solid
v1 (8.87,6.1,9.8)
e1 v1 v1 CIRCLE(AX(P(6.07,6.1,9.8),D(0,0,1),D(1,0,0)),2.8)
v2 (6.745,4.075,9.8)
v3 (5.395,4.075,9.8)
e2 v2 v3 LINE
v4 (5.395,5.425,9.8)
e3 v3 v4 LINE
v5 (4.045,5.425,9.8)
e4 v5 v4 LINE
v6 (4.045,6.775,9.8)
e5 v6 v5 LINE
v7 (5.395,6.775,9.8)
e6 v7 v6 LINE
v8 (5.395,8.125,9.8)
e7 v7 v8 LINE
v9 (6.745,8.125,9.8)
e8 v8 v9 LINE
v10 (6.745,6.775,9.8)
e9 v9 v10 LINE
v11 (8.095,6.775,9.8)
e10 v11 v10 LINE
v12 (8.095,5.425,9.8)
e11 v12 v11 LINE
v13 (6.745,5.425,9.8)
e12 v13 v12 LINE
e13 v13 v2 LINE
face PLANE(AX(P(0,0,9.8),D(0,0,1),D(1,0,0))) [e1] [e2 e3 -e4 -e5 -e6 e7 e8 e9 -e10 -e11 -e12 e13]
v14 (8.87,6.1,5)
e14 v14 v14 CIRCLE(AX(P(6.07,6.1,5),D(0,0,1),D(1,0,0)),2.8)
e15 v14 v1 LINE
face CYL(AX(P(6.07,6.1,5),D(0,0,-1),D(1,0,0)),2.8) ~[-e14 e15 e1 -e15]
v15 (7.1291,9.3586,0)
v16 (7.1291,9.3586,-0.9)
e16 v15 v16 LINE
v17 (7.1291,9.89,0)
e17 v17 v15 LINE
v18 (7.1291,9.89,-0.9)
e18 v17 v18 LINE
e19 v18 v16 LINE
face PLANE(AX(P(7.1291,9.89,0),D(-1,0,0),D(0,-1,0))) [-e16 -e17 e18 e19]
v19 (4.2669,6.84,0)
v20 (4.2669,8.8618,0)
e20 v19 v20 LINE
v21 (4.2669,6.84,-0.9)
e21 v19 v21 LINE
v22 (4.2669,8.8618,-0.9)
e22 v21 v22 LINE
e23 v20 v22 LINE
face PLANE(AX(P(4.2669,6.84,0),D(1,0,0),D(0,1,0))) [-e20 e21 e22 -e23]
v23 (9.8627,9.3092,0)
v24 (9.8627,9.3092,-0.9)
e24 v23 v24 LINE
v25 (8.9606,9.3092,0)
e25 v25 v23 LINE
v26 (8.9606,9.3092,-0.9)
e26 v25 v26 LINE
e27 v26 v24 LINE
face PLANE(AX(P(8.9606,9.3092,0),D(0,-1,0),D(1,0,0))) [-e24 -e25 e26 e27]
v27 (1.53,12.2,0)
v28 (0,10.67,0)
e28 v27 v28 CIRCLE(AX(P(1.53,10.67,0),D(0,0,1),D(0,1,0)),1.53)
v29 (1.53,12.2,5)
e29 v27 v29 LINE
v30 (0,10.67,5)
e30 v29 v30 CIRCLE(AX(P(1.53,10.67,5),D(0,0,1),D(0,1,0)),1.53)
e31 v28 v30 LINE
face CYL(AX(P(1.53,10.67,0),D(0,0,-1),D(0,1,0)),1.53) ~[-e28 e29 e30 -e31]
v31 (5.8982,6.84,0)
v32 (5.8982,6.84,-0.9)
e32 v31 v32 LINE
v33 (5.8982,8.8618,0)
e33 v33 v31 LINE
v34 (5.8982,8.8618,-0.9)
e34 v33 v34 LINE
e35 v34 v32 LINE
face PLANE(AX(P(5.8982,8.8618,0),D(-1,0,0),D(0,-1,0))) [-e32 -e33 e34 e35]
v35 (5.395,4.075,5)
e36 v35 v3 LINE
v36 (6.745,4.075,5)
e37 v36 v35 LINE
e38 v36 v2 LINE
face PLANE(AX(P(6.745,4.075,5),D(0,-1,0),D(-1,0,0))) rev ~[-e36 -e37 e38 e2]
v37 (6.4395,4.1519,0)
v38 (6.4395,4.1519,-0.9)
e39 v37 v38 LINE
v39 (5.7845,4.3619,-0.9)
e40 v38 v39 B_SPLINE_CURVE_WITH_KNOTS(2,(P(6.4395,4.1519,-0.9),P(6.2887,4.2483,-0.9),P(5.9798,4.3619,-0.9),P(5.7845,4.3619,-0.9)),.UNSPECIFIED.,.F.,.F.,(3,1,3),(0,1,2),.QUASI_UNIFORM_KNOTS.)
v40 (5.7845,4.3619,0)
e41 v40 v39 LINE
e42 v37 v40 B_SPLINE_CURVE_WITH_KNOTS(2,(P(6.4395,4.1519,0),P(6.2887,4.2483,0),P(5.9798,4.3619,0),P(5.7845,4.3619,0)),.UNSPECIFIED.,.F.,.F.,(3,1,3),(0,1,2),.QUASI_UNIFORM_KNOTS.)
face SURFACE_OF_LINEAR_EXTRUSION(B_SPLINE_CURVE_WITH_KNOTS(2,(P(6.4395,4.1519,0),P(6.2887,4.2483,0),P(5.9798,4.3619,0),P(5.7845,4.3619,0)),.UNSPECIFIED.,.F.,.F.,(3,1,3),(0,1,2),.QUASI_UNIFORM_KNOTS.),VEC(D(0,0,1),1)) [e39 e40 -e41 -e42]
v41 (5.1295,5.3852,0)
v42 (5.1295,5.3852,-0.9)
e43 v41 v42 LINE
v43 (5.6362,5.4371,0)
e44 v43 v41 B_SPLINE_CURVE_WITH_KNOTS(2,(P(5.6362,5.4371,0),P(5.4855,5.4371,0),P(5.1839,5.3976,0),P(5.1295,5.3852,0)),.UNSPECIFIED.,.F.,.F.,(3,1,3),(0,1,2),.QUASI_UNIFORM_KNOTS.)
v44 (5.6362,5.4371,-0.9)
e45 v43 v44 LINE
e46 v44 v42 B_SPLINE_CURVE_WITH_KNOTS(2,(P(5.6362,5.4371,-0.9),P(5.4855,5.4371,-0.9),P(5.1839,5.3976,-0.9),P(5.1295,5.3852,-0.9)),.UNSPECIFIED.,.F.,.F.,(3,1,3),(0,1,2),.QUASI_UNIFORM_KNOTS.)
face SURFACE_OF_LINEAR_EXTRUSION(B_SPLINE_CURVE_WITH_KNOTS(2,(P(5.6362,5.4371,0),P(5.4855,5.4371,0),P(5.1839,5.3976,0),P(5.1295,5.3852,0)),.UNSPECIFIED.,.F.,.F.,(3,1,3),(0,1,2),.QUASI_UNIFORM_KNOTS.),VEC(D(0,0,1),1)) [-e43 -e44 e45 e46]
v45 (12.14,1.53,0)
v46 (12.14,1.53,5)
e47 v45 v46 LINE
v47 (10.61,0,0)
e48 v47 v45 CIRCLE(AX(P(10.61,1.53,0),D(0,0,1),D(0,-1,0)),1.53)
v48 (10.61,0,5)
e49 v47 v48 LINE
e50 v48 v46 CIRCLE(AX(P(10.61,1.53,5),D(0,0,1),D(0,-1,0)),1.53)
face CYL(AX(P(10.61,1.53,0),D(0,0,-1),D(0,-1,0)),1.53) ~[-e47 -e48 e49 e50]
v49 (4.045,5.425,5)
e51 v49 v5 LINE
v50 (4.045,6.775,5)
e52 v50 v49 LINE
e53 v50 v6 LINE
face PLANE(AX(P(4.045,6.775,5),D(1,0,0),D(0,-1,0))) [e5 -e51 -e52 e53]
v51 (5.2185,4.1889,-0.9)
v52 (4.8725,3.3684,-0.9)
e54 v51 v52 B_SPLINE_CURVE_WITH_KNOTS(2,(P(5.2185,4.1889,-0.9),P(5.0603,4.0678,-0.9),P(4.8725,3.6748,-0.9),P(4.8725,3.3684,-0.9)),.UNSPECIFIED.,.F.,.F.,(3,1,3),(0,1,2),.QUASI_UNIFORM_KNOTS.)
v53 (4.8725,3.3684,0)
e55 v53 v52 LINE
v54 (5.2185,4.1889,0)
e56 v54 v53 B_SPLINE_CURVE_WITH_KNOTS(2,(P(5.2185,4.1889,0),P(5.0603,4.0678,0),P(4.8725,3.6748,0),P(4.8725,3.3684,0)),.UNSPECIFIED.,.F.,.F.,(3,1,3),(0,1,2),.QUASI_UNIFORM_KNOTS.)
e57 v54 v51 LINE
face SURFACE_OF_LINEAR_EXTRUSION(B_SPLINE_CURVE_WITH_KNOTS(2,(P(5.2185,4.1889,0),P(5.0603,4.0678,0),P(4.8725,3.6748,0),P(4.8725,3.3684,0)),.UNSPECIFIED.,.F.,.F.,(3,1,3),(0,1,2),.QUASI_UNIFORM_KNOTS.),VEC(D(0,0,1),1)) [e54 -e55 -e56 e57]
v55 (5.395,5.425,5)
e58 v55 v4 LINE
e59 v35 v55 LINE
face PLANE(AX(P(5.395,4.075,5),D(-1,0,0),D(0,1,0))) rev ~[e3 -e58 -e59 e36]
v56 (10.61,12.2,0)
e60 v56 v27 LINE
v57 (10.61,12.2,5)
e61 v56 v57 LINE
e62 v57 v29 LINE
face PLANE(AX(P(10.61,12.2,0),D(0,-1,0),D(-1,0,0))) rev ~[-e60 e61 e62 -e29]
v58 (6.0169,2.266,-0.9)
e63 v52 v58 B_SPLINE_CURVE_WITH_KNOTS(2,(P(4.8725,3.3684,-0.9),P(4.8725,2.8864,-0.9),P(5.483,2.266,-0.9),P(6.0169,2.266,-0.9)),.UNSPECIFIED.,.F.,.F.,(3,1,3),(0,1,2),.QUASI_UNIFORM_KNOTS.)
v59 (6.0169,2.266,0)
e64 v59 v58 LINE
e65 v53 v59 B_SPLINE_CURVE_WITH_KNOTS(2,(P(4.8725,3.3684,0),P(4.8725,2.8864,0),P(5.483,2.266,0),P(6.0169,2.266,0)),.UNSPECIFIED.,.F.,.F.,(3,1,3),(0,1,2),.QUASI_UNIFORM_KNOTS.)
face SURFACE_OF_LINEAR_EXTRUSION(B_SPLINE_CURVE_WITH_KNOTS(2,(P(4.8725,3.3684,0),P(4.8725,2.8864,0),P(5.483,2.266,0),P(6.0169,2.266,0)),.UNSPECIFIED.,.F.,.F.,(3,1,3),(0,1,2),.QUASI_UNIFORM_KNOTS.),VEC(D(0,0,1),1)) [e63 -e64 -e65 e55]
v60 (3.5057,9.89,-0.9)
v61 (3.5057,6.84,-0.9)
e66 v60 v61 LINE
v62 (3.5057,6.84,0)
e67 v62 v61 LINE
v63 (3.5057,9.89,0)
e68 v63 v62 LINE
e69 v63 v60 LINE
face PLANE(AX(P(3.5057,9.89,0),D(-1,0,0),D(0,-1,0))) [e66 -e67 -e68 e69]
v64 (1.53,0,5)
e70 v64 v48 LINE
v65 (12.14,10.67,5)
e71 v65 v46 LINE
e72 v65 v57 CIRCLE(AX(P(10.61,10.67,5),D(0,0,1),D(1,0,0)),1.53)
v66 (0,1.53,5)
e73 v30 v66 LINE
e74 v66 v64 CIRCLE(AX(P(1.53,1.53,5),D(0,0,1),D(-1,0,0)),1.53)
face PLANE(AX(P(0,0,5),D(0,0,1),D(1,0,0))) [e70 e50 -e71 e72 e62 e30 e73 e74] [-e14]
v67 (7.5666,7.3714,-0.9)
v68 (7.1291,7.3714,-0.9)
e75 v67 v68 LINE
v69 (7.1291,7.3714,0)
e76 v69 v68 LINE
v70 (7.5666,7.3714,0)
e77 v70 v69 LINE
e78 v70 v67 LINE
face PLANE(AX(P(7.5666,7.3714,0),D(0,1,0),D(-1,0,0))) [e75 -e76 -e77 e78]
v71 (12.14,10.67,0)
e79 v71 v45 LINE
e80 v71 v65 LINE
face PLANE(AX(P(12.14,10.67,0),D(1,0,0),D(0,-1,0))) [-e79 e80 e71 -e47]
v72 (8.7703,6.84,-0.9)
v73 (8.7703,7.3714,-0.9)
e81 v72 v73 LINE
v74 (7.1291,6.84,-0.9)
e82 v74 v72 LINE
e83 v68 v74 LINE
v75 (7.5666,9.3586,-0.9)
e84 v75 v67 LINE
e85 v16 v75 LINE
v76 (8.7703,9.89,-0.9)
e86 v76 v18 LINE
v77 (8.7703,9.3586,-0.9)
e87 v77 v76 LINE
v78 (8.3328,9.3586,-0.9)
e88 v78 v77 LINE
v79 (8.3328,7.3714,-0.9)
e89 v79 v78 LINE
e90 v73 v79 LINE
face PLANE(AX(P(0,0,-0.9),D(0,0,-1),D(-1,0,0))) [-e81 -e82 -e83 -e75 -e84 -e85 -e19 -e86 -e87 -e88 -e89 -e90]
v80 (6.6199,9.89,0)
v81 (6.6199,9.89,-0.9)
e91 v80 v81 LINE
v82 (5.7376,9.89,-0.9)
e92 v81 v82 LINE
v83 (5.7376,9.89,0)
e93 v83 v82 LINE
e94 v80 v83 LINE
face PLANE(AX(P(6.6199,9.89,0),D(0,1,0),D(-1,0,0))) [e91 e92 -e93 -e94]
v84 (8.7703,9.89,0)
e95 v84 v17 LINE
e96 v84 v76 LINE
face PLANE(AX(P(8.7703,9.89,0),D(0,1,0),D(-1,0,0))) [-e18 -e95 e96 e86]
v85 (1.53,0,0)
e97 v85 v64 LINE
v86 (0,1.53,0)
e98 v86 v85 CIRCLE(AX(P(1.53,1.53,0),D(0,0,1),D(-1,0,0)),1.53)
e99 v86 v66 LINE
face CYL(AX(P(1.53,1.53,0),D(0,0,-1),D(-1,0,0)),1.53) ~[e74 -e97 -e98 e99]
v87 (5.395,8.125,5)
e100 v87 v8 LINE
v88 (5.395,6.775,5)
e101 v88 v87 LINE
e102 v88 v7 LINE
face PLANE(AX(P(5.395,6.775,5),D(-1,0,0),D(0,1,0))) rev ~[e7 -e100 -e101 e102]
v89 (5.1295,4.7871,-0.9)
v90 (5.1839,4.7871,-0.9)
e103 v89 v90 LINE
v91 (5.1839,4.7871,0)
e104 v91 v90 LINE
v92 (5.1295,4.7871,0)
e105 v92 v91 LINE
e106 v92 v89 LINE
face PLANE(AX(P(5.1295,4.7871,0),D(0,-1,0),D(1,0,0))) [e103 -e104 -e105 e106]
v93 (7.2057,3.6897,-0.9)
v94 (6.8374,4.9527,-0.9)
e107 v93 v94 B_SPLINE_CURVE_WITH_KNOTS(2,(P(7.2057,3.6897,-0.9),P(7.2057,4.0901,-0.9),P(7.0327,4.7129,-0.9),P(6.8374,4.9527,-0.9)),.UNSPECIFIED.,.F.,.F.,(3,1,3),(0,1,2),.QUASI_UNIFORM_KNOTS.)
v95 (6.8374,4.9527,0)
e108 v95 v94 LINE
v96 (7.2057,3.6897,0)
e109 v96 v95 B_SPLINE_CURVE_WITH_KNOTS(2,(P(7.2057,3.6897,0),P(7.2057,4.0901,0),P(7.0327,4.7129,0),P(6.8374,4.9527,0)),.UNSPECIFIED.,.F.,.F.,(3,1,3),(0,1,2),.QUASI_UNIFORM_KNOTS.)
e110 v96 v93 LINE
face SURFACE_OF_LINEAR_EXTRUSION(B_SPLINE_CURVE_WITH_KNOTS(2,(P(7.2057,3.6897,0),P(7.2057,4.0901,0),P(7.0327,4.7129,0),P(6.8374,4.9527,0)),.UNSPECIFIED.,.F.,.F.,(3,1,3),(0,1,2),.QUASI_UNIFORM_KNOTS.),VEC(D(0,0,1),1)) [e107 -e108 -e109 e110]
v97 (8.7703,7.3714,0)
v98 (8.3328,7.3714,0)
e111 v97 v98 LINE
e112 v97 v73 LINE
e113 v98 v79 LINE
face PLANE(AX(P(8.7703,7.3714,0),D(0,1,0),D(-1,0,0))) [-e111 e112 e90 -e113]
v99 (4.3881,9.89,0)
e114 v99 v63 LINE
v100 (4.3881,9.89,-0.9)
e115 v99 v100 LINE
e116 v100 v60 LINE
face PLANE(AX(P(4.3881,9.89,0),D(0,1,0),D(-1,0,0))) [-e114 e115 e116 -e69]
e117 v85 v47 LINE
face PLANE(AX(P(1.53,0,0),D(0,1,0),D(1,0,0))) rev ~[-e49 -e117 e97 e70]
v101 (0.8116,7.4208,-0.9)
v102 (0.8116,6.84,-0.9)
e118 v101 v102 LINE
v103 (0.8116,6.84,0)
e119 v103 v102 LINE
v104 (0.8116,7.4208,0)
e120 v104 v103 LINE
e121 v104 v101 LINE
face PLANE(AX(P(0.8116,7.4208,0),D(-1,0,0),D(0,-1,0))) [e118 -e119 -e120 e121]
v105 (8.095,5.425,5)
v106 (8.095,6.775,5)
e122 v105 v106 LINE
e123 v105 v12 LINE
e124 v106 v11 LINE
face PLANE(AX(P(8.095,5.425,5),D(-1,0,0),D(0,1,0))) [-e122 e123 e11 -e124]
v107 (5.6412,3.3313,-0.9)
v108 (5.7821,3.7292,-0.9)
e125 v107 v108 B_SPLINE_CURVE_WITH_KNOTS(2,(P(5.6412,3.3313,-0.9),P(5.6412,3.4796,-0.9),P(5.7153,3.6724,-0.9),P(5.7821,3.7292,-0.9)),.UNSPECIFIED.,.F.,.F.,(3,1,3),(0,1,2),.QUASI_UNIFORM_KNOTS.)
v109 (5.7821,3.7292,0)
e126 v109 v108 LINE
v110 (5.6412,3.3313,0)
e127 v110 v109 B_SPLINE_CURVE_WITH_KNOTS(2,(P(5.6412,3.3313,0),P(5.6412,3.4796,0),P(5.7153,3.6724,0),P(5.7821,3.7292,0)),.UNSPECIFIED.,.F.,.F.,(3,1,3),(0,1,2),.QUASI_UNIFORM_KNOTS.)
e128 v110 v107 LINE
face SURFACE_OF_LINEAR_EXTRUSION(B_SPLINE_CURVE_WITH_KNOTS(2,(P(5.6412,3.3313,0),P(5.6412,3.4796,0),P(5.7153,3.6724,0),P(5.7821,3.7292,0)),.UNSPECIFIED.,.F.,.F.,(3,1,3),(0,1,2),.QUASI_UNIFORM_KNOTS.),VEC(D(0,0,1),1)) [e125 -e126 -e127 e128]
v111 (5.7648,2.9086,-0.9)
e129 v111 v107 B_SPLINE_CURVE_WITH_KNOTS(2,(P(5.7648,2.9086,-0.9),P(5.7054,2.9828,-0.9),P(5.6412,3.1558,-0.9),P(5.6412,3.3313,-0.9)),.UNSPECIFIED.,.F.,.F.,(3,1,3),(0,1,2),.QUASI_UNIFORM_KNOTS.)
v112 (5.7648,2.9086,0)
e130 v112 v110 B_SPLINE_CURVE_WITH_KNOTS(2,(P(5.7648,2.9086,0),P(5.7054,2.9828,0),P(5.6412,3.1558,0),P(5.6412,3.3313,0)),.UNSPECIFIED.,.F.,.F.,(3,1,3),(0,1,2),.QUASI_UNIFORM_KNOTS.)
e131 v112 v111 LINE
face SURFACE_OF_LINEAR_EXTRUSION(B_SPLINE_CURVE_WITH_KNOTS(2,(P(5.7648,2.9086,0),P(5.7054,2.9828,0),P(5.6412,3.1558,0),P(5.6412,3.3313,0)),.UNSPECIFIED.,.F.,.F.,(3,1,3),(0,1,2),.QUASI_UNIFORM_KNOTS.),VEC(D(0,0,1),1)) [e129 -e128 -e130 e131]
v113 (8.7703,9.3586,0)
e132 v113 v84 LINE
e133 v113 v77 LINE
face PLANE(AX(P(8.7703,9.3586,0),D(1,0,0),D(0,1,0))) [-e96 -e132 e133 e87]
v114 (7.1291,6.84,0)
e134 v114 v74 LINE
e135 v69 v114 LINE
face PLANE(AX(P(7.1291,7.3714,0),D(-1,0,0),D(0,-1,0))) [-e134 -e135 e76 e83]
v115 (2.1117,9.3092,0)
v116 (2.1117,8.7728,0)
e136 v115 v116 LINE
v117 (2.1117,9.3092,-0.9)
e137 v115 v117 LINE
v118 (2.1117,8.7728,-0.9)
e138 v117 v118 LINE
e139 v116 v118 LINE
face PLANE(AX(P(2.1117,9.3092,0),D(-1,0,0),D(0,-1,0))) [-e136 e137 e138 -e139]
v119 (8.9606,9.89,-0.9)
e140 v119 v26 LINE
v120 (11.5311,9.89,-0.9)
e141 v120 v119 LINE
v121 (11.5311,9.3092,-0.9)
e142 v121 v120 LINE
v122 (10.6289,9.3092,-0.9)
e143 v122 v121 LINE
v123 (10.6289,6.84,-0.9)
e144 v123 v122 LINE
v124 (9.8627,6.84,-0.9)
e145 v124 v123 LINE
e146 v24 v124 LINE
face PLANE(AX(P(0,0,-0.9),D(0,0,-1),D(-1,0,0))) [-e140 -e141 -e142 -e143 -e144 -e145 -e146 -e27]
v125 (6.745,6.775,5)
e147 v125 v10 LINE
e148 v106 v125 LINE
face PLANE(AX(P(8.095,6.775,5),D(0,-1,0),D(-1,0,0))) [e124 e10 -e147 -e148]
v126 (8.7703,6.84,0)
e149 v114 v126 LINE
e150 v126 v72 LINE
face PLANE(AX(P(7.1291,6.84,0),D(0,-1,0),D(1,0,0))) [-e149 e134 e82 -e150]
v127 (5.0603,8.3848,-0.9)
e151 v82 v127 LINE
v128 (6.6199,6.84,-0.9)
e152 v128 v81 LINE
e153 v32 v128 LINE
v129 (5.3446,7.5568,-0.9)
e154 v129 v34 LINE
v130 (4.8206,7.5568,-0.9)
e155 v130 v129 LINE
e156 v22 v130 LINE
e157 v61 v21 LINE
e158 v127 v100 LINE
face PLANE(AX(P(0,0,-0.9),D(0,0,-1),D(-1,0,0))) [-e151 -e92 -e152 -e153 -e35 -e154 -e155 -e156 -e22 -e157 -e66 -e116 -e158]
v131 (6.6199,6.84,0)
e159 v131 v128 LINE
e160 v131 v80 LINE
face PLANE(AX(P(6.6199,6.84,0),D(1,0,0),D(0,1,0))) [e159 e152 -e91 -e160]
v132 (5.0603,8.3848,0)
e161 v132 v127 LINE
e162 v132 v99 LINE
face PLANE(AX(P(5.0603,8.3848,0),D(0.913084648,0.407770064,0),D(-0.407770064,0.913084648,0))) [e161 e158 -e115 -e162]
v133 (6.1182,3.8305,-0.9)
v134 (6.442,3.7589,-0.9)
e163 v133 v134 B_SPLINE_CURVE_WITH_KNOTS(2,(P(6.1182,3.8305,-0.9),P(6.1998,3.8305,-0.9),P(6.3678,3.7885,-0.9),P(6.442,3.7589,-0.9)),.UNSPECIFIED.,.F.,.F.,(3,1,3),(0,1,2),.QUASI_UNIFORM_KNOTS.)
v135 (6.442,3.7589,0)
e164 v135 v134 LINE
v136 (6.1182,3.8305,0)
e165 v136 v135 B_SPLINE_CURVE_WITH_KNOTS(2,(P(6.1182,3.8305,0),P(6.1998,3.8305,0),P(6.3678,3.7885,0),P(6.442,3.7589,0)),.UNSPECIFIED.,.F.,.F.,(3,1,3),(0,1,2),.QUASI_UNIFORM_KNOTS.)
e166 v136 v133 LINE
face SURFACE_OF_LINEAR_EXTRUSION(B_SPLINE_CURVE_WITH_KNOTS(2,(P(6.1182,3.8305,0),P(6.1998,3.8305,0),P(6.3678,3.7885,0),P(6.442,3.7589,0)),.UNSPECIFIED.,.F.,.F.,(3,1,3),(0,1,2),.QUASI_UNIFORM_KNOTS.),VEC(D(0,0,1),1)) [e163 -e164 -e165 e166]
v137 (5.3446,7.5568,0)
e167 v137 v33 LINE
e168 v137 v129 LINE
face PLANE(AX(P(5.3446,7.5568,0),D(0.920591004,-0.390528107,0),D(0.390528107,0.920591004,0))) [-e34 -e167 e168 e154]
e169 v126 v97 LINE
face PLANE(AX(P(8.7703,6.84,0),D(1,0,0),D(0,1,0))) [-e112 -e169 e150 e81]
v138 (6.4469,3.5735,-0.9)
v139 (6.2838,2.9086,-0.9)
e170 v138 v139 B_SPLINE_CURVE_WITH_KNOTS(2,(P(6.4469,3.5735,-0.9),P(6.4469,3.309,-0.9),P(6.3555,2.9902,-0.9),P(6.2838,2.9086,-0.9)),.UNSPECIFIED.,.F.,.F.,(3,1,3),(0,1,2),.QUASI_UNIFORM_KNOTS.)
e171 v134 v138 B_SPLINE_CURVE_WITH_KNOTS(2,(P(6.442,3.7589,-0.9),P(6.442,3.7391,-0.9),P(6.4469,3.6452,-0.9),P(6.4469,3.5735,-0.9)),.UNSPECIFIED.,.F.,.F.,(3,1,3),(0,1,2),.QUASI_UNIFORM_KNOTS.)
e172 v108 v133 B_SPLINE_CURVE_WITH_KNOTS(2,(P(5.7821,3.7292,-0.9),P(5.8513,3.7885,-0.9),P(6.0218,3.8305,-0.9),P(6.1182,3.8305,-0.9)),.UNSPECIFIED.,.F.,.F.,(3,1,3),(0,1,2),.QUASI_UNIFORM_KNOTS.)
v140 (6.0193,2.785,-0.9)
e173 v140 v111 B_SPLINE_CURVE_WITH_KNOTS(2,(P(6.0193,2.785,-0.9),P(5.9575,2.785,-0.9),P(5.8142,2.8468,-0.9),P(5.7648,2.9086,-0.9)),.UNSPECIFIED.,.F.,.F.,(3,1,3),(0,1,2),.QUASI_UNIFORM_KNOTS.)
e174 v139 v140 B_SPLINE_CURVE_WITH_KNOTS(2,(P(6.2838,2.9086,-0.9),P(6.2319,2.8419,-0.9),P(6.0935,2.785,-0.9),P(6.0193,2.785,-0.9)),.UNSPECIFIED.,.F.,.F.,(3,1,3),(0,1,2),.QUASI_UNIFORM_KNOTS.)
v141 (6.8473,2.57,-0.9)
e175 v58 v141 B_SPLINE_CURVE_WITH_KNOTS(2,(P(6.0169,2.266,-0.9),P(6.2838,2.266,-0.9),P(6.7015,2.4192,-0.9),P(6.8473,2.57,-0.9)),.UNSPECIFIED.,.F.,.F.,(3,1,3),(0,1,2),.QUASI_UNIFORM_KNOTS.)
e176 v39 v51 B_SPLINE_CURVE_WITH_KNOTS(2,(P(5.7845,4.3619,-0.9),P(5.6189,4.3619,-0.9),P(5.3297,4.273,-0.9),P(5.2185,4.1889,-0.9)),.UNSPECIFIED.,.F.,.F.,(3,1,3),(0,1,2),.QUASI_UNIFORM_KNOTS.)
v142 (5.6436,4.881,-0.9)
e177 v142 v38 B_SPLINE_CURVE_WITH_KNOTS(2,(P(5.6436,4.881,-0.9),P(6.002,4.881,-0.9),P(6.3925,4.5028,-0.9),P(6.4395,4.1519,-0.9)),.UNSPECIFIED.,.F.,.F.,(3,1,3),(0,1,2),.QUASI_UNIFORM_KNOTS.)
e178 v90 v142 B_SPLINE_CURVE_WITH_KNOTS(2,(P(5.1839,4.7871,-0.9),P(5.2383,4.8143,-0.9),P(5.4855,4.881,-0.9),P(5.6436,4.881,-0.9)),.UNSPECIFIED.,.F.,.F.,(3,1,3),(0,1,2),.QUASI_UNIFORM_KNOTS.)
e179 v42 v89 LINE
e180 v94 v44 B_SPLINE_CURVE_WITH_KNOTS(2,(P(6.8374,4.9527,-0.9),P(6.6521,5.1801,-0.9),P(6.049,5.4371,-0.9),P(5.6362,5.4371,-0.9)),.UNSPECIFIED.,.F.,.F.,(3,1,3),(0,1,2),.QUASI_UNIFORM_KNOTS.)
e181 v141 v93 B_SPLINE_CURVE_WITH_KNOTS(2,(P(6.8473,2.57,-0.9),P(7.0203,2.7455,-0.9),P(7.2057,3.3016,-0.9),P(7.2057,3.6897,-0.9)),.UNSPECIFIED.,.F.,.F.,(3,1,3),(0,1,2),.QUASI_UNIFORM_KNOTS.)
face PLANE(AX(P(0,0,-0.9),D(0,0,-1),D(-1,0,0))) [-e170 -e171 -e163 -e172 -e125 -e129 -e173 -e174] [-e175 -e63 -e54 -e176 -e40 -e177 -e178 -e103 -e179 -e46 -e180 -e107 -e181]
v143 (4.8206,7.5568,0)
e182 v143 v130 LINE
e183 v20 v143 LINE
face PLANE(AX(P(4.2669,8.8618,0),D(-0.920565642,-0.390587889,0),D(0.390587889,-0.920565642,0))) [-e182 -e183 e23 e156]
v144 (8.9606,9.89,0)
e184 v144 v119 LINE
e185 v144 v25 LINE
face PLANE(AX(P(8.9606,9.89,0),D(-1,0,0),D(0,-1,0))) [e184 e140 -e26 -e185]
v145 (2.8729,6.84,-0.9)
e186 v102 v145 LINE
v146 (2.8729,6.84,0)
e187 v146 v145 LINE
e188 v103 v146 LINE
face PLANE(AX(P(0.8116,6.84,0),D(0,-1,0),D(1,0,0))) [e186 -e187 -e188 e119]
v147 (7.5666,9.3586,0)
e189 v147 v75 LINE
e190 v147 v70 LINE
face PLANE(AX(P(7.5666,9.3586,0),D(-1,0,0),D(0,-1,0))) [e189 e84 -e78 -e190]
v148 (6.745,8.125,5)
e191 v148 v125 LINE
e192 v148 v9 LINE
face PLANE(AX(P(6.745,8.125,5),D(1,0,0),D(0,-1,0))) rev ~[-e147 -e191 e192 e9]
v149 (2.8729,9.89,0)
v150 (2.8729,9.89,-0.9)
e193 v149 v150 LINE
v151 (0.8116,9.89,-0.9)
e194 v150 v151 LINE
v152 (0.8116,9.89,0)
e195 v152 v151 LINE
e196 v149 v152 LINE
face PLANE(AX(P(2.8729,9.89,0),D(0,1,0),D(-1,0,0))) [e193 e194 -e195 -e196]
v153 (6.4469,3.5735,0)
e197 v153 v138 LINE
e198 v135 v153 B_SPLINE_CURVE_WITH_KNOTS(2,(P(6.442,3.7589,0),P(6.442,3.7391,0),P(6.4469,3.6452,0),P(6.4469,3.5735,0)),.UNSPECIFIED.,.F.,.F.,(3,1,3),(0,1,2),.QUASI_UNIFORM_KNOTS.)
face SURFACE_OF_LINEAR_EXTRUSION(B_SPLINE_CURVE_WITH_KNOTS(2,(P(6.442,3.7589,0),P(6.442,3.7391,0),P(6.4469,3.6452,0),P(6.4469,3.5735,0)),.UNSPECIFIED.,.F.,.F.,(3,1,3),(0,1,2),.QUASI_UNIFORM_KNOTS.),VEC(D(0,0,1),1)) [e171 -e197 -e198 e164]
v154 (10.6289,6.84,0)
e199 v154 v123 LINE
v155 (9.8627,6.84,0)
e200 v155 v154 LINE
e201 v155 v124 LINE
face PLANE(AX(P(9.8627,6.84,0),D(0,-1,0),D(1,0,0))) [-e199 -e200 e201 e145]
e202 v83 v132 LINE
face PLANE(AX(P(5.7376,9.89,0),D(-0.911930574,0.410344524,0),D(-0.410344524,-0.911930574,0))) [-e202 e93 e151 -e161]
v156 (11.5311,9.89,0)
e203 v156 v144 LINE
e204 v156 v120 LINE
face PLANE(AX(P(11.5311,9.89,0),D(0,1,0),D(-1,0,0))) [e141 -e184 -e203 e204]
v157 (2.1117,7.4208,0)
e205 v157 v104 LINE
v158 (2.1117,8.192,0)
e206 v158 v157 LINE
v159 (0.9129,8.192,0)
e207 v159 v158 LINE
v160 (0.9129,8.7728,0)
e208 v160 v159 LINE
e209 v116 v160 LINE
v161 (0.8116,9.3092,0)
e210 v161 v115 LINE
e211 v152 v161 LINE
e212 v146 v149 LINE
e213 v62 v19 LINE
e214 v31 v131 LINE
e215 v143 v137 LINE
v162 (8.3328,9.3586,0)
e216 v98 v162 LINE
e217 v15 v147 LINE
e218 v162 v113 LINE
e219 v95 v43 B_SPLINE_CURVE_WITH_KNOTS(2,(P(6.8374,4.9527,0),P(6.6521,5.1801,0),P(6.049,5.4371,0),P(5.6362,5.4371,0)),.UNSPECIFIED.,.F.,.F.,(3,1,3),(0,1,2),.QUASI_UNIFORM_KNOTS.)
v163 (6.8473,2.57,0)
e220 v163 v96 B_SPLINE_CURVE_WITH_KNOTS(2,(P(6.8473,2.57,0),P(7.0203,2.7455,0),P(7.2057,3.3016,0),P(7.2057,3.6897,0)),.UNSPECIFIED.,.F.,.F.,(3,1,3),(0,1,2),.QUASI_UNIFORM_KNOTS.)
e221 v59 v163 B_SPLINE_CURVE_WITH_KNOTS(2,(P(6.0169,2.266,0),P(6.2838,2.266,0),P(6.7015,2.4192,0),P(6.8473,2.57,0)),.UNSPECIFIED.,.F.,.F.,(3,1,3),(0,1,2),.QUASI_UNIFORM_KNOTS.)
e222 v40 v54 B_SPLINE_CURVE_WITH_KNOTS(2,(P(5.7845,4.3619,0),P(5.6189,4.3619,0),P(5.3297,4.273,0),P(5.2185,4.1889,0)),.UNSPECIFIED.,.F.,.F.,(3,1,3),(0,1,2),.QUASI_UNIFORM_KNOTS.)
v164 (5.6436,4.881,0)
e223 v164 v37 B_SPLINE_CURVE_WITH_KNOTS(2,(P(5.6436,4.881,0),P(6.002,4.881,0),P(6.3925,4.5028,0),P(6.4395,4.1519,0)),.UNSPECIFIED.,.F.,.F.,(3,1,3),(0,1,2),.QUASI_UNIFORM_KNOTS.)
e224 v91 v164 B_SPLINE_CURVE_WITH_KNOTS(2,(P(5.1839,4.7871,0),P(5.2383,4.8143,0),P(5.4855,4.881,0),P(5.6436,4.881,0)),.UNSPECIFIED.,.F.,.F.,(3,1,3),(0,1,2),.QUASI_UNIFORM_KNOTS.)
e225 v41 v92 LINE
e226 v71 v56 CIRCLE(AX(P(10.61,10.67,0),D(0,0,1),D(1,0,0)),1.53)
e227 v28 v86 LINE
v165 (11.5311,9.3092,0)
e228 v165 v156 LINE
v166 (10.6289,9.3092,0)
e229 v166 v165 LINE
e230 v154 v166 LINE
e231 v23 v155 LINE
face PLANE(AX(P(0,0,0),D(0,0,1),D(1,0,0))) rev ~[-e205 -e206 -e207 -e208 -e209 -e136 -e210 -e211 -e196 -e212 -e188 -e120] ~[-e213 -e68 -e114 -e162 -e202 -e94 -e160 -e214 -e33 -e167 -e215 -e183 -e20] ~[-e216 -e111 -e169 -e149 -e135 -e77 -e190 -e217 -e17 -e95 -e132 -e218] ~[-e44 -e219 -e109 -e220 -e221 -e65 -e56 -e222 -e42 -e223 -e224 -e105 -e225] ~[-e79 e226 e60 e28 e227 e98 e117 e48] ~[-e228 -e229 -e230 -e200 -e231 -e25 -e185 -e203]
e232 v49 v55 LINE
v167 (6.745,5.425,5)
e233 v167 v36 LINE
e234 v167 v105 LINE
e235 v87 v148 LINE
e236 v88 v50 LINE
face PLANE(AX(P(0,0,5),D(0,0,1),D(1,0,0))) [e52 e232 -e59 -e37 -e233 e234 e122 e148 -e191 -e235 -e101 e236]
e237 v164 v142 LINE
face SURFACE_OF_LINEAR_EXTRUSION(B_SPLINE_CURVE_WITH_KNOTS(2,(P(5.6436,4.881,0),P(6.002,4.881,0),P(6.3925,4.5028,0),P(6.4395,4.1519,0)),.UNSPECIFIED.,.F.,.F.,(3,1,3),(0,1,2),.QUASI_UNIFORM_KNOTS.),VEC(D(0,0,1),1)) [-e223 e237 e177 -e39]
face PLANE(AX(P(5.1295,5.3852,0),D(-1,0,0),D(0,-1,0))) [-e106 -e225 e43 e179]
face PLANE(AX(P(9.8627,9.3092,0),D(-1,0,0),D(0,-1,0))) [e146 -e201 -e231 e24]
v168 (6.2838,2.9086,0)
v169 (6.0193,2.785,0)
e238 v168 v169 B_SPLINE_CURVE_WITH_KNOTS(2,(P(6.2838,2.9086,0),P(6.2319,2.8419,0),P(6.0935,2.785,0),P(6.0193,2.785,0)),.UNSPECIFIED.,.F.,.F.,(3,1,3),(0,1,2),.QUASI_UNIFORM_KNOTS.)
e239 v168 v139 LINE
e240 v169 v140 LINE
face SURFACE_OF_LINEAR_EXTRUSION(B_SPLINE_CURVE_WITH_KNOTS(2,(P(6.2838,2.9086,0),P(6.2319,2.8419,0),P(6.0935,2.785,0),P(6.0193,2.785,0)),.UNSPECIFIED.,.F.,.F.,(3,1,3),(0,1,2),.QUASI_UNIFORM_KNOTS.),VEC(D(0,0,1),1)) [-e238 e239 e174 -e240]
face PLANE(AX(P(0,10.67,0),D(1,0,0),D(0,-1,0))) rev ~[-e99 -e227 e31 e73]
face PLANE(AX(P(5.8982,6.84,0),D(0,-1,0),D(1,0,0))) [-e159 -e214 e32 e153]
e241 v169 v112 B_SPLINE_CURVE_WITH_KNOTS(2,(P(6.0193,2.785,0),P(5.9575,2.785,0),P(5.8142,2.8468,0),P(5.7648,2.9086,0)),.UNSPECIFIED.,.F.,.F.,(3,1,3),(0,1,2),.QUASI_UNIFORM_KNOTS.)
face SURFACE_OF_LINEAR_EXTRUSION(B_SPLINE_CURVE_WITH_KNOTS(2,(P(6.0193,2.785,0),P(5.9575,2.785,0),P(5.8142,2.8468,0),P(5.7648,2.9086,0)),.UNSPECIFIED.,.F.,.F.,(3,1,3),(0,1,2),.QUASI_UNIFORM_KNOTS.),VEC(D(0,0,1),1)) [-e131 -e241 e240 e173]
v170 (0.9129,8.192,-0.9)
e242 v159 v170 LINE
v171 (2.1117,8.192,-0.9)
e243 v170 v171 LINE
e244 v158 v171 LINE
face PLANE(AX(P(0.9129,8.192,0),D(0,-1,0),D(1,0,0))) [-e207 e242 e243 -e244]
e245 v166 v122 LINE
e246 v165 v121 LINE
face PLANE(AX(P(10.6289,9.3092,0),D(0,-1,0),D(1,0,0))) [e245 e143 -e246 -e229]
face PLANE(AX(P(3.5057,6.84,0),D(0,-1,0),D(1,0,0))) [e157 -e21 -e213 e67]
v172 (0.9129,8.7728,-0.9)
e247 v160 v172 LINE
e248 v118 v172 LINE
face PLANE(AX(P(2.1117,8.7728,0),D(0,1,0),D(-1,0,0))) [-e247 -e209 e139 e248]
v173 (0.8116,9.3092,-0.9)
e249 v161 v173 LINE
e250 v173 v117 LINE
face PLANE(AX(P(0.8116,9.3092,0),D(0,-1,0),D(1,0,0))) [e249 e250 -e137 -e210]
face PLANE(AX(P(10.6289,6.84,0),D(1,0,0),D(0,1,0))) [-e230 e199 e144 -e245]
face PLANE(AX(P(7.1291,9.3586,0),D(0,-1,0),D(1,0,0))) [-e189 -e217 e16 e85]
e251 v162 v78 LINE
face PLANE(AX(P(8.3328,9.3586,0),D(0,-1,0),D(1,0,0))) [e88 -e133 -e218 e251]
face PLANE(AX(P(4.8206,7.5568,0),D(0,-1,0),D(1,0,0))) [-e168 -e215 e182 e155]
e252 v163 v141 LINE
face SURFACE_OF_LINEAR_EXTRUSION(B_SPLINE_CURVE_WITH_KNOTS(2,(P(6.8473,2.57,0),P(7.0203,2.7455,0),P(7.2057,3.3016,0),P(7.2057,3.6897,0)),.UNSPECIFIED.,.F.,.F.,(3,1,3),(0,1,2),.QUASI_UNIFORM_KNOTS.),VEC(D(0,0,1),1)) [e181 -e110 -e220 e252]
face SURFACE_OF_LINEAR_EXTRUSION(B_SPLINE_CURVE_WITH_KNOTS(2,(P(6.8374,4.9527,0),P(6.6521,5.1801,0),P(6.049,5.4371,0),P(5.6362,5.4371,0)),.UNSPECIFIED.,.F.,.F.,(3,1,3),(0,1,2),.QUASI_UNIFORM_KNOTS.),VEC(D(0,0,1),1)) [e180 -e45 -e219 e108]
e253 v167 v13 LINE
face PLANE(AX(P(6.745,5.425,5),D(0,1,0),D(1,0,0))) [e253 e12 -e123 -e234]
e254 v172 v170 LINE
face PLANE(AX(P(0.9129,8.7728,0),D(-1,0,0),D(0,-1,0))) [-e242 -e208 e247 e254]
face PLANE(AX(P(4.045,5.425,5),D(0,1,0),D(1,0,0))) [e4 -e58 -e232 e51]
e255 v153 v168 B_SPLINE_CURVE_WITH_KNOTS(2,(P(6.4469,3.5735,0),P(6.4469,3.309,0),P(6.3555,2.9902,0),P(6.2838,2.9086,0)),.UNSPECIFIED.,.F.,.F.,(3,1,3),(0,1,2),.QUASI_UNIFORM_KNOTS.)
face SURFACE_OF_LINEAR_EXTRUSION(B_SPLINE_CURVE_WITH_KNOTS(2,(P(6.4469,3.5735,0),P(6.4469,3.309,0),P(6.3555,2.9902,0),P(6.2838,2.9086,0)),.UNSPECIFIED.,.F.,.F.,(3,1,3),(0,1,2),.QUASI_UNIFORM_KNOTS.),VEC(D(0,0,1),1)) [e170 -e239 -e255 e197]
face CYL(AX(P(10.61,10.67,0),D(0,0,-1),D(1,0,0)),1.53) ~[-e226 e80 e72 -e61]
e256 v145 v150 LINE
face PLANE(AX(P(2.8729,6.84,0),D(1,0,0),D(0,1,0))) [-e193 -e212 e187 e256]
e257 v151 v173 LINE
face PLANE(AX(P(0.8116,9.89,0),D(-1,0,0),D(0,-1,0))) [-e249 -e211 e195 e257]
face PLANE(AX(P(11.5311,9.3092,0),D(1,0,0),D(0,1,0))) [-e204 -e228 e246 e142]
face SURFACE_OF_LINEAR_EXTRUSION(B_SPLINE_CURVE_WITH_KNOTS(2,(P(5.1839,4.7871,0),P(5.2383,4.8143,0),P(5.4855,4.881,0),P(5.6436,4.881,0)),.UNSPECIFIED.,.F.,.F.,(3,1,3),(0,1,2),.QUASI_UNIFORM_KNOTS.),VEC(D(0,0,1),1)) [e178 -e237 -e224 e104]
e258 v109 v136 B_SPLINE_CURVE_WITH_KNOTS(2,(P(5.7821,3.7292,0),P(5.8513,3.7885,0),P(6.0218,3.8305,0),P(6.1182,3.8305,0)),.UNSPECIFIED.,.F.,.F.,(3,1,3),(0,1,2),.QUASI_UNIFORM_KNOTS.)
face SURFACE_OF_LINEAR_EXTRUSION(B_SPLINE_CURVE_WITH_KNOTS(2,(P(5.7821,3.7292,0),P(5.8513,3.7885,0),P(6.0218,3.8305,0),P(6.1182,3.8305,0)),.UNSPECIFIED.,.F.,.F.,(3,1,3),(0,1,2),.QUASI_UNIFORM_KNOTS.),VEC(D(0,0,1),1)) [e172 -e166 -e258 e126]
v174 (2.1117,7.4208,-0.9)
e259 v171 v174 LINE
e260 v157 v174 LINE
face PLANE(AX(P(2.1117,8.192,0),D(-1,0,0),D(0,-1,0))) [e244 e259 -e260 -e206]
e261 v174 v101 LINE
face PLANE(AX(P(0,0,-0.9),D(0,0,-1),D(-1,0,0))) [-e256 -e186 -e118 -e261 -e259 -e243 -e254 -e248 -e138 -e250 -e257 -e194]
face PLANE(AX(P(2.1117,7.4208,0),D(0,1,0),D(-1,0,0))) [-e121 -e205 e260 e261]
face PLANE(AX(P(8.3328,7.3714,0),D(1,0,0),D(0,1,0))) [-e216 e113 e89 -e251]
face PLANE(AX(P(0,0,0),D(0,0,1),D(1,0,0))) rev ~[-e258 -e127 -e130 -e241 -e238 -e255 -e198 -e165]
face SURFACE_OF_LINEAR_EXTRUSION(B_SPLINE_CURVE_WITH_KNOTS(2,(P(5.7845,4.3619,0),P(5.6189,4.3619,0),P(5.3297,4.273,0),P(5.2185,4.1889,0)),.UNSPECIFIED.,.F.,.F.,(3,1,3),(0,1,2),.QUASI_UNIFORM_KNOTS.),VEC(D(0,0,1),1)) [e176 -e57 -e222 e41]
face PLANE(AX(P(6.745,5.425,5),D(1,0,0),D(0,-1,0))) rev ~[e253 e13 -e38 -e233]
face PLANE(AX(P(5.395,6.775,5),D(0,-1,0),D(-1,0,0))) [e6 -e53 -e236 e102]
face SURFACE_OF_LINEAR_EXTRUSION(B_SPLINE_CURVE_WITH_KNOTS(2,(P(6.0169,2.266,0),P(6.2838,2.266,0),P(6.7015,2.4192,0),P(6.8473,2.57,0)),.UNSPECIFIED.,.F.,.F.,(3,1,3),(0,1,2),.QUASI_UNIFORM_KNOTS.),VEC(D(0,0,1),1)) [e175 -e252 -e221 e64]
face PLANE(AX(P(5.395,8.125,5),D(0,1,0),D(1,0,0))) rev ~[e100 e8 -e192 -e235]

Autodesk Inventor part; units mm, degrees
ref_plane "YZ Plane" through (0, 0, 0) normal (1, 0, 0) x (0, 1, 0)
ref_plane "XZ Plane" through (0, 0, 0) normal (0, 1, 0) x (-1, 0, 0)
sketch "Sketch1" plane through (0, 0, 0) normal (0, 0, 1) x (1, 0, 0)
  line L0 (14.6962, 12.74) -> (14.6962, 0) construction
  line L1 (10.61, 12.2) -> (1.53, 12.2)
  arc A0 (1.53, 12.2) -> (0, 10.67) centre (1.53, 10.67) ccw
  line L2 (0, 10.67) -> (0, 1.53)
  arc A1 (0, 1.53) -> (1.53, 0) centre (1.53, 1.53) ccw
  line L3 (1.53, 0) -> (10.61, 0)
  arc A2 (10.61, 0) -> (12.14, 1.53) centre (10.61, 1.53) ccw
  arc A3 (12.14, 10.67) -> (10.61, 12.2) centre (10.61, 10.67) ccw
  line L4 (12.14, 10.67) -> (12.14, 1.53)
  point P0 (0, 0)
  point P1 (0, 0)
  dimension "d10" = 12.74
ref_plane "Work Plane1" through (0, 0, 5) normal (0, 0, 1) x (1, 0, 0)
sketch "Sketch2" plane through (0, 0, 5) normal (0, 0, 1) x (1, 0, 0)
  line L0 (10.88, 12.74) -> (1.8, 12.74) projected
  line L1 (10.88, 12.74) -> (1.8, 12.74) projected
  arc A0 (1.8, 12.74) -> (0, 10.94) centre (1.8, 10.94) ccw projected
  line L2 (0, 10.94) -> (0, 1.8) projected
  arc A1 (0, 1.8) -> (1.8, 0) centre (1.8, 1.8) ccw projected
  line L3 (1.8, 0) -> (10.88, 0) projected
  arc A2 (10.88, 0) -> (12.68, 1.8) centre (10.88, 1.8) ccw projected
  line L4 (12.68, 1.8) -> (12.68, 10.94) projected
  arc A3 (12.68, 10.94) -> (10.88, 12.74) centre (10.88, 10.94) ccw projected
  circle A4 centre (6.34, 6.37) radius 2.8
  line L5 (5.665, 8.395) -> (7.015, 8.395)
  line L6 (7.015, 4.345) -> (5.665, 4.345)
  line L7 (5.665, 4.345) -> (7.015, 8.395) construction
  line L8 (5.665, 8.395) -> (7.015, 4.345) construction
  line L9 (8.365, 5.695) -> (8.365, 7.045)
  line L10 (4.315, 7.045) -> (4.315, 5.695)
  line L11 (4.315, 5.695) -> (8.365, 7.045) construction
  line L12 (8.365, 5.695) -> (4.315, 7.045) construction
  line L13 (4.315, 5.695) -> (5.665, 5.695)
  line L14 (7.015, 5.695) -> (8.365, 5.695)
  line L15 (5.665, 4.345) -> (5.665, 5.695)
  line L16 (5.665, 7.045) -> (5.665, 8.395)
  line L17 (8.365, 7.045) -> (7.015, 7.045)
  line L18 (5.665, 7.045) -> (4.315, 7.045)
  line L19 (7.015, 8.395) -> (7.015, 7.045)
  line L20 (7.015, 5.695) -> (7.015, 4.345)
  point P0 (0, 0)
  dimension "d3" = 5.6
  dimension "d4" = 4.05
  dimension "d5" = 1.35
  dimension "d6" = 4.05
  dimension "d7" = 1.35
extrude "Extrusion3" add sketch "Sketch1" along normal blind 5
sketch "Sketch3" plane through (0, 0, 5) normal (0, 0, 1) x (1, 0, 0)
  line L0 (10.61, 12.47) -> (1.53, 12.47)
  line L1 (10.61, 12.47) -> (1.53, 12.47)
  arc A0 (1.53, 12.47) -> (-0.27, 10.67) centre (1.53, 10.67) ccw
  line L2 (-0.27, 10.67) -> (-0.27, 1.53)
  arc A1 (-0.27, 1.53) -> (1.53, -0.27) centre (1.53, 1.53) ccw
  line L3 (1.53, -0.27) -> (10.61, -0.27)
  arc A2 (10.61, -0.27) -> (12.41, 1.53) centre (10.61, 1.53) ccw
  line L4 (12.41, 1.53) -> (12.41, 10.67)
  arc A3 (12.41, 10.67) -> (10.61, 12.47) centre (10.61, 10.67) ccw
  circle A4 centre (6.07, 6.1) radius 2.8
  line L5 (5.395, 8.125) -> (6.745, 8.125)
  line L6 (6.745, 4.075) -> (5.395, 4.075)
  line L7 (5.395, 4.075) -> (6.745, 8.125) construction
  line L8 (5.395, 8.125) -> (6.745, 4.075) construction
  line L9 (8.095, 5.425) -> (8.095, 6.775)
  line L10 (4.045, 6.775) -> (4.045, 5.425)
  line L11 (4.045, 5.425) -> (8.095, 6.775) construction
  line L12 (8.095, 5.425) -> (4.045, 6.775) construction
  line L13 (4.045, 5.425) -> (5.395, 5.425)
  line L14 (6.745, 5.425) -> (8.095, 5.425)
  line L15 (5.395, 4.075) -> (5.395, 5.425)
  line L16 (5.395, 6.775) -> (5.395, 8.125)
  line L17 (8.095, 6.775) -> (6.745, 6.775)
  line L18 (5.395, 6.775) -> (4.045, 6.775)
  line L19 (6.745, 8.125) -> (6.745, 6.775)
  line L20 (6.745, 5.425) -> (6.745, 4.075)
  line L21 (10.61, 12.2) -> (1.53, 12.2) projected
  line L22 (0, 10.67) -> (0, 1.53) projected
  point P0 (0, 0)
  point P1 (-0.27, -0.27)
  point P2 (6.07, 12.2)
  point P3 (0, 6.1)
  point P4 (6.07, 6.1)
  dimension "d14" = 5.6
  dimension "d15" = 4.05
  dimension "d16" = 1.35
  dimension "d17" = 4.05
  dimension "d18" = 1.35
extrude "Extrusion4" add sketch "Sketch3" along normal blind 4.8 contours A4
sketch "Sketch4" plane through (0, 0, 0) normal (0, 0, -1) x (-1, 0, 0)
  line L0 (-13.9436, 0) -> (-13.9436, 2.266)
  line L1 (-15.5559, 0) -> (-15.5559, 6.84)
  line L2 (-1.53, 0) -> (-10.61, 0) projected
  line L3 (-11.5311, 9.89) -> (-0.6089, 9.89) construction
  line L4 (-0.6089, 9.89) -> (-0.6089, 6.84) construction
  line L5 (-0.6089, 6.84) -> (-11.5311, 6.84) construction
  line L6 (-11.5311, 6.84) -> (-11.5311, 9.89) construction
  line L7 (-7.4059, 5.4371) -> (-4.7341, 5.4371) construction
  line L8 (-4.7341, 5.4371) -> (-4.7341, 2.266) construction
  line L9 (-4.7341, 2.266) -> (-7.4059, 2.266) construction
  line L10 (-7.4059, 2.266) -> (-7.4059, 5.4371) construction
  line L11 (-10.6289, 6.84) -> (-10.6289, 9.3092)
  line L12 (-10.6289, 9.3092) -> (-11.5311, 9.3092)
  line L13 (-11.5311, 9.3092) -> (-11.5311, 9.89)
  line L14 (-11.5311, 9.89) -> (-8.9606, 9.89)
  line L15 (-8.9606, 9.89) -> (-8.9606, 9.3092)
  line L16 (-8.9606, 9.3092) -> (-9.8627, 9.3092)
  line L17 (-9.8627, 9.3092) -> (-9.8627, 6.84)
  line L18 (-9.8627, 6.84) -> (-10.6289, 6.84)
  line L19 (-7.1291, 6.84) -> (-8.7703, 6.84)
  line L20 (-8.7703, 6.84) -> (-8.7703, 7.3714)
  line L21 (-8.7703, 7.3714) -> (-8.3328, 7.3714)
  line L22 (-8.3328, 7.3714) -> (-8.3328, 9.3586)
  line L23 (-8.3328, 9.3586) -> (-8.7703, 9.3586)
  line L24 (-8.7703, 9.3586) -> (-8.7703, 9.89)
  line L25 (-8.7703, 9.89) -> (-7.1291, 9.89)
  line L26 (-7.1291, 9.89) -> (-7.1291, 9.3586)
  line L27 (-7.1291, 9.3586) -> (-7.5666, 9.3586)
  line L28 (-7.5666, 9.3586) -> (-7.5666, 7.3714)
  line L29 (-7.5666, 7.3714) -> (-7.1291, 7.3714)
  line L30 (-7.1291, 7.3714) -> (-7.1291, 6.84)
  line L31 (-3.5057, 6.84) -> (-4.2669, 6.84)
  line L32 (-4.2669, 6.84) -> (-4.2669, 8.8618)
  line L33 (-4.2669, 8.8618) -> (-4.8206, 7.5568)
  line L34 (-4.8206, 7.5568) -> (-5.3446, 7.5568)
  line L35 (-5.3446, 7.5568) -> (-5.8982, 8.8618)
  line L36 (-5.8982, 8.8618) -> (-5.8982, 6.84)
  line L37 (-5.8982, 6.84) -> (-6.6199, 6.84)
  line L38 (-6.6199, 6.84) -> (-6.6199, 9.89)
  line L39 (-6.6199, 9.89) -> (-5.7376, 9.89)
  line L40 (-5.7376, 9.89) -> (-5.0603, 8.3848)
  line L41 (-5.0603, 8.3848) -> (-4.3881, 9.89)
  line L42 (-4.3881, 9.89) -> (-3.5057, 9.89)
  line L43 (-3.5057, 9.89) -> (-3.5057, 6.84)
  line L44 (-2.8729, 6.84) -> (-2.8729, 9.89)
  line L45 (-2.8729, 9.89) -> (-0.8116, 9.89)
  line L46 (-0.8116, 9.89) -> (-0.8116, 9.3092)
  line L47 (-0.8116, 9.3092) -> (-2.1117, 9.3092)
  line L48 (-2.1117, 9.3092) -> (-2.1117, 8.7728)
  line L49 (-2.1117, 8.7728) -> (-0.9129, 8.7728)
  line L50 (-0.9129, 8.7728) -> (-0.9129, 8.192)
  line L51 (-0.9129, 8.192) -> (-2.1117, 8.192)
  line L52 (-2.1117, 8.192) -> (-2.1117, 7.4208)
  line L53 (-2.1117, 7.4208) -> (-0.8116, 7.4208)
  line L54 (-0.8116, 7.4208) -> (-0.8116, 6.84)
  line L55 (-0.8116, 6.84) -> (-2.8729, 6.84)
  spline S0 degree 2 poles (-4.8725, 3.3684) (-4.8725, 2.8864) (-5.483, 2.266) (-6.0169, 2.266) knots 0 0 0 1 2 2 2
  spline S1 degree 2 poles (-6.0169, 2.266) (-6.2838, 2.266) (-6.7015, 2.4192) (-6.8473, 2.57) knots 0 0 0 1 2 2 2
  spline S2 degree 2 poles (-6.8473, 2.57) (-7.0203, 2.7455) (-7.2057, 3.3016) (-7.2057, 3.6897) knots 0 0 0 1 2 2 2
  spline S3 degree 2 poles (-7.2057, 3.6897) (-7.2057, 4.0901) (-7.0327, 4.7129) (-6.8374, 4.9527) knots 0 0 0 1 2 2 2
  spline S4 degree 2 poles (-6.8374, 4.9527) (-6.6521, 5.1801) (-6.049, 5.4371) (-5.6362, 5.4371) knots 0 0 0 1 2 2 2
  spline S5 degree 2 poles (-5.6362, 5.4371) (-5.4855, 5.4371) (-5.1839, 5.3976) (-5.1295, 5.3852) knots 0 0 0 1 2 2 2
  line L56 (-5.1295, 5.3852) -> (-5.1295, 4.7871)
  line L57 (-5.1295, 4.7871) -> (-5.1839, 4.7871)
  spline S6 degree 2 poles (-5.1839, 4.7871) (-5.2383, 4.8143) (-5.4855, 4.881) (-5.6436, 4.881) knots 0 0 0 1 2 2 2
  spline S7 degree 2 poles (-5.6436, 4.881) (-6.002, 4.881) (-6.3925, 4.5028) (-6.4395, 4.1519) knots 0 0 0 1 2 2 2
  spline S8 degree 2 poles (-6.4395, 4.1519) (-6.2887, 4.2483) (-5.9798, 4.3619) (-5.7845, 4.3619) knots 0 0 0 1 2 2 2
  spline S9 degree 2 poles (-5.7845, 4.3619) (-5.6189, 4.3619) (-5.3297, 4.273) (-5.2185, 4.1889) knots 0 0 0 1 2 2 2
  spline S10 degree 2 poles (-5.2185, 4.1889) (-5.0603, 4.0678) (-4.8725, 3.6748) (-4.8725, 3.3684) knots 0 0 0 1 2 2 2
  spline S11 degree 2 poles (-5.7648, 2.9086) (-5.7054, 2.9828) (-5.6412, 3.1558) (-5.6412, 3.3313) knots 0 0 0 1 2 2 2
  spline S12 degree 2 poles (-5.6412, 3.3313) (-5.6412, 3.4796) (-5.7153, 3.6724) (-5.7821, 3.7292) knots 0 0 0 1 2 2 2
  spline S13 degree 2 poles (-5.7821, 3.7292) (-5.8513, 3.7885) (-6.0218, 3.8305) (-6.1182, 3.8305) knots 0 0 0 1 2 2 2
  spline S14 degree 2 poles (-6.1182, 3.8305) (-6.1998, 3.8305) (-6.3678, 3.7885) (-6.442, 3.7589) knots 0 0 0 1 2 2 2
  spline S15 degree 2 poles (-6.442, 3.7589) (-6.442, 3.7391) (-6.4469, 3.6452) (-6.4469, 3.5735) knots 0 0 0 1 2 2 2
  spline S16 degree 2 poles (-6.4469, 3.5735) (-6.4469, 3.309) (-6.3555, 2.9902) (-6.2838, 2.9086) knots 0 0 0 1 2 2 2
  spline S17 degree 2 poles (-6.2838, 2.9086) (-6.2319, 2.8419) (-6.0935, 2.785) (-6.0193, 2.785) knots 0 0 0 1 2 2 2
  spline S18 degree 2 poles (-6.0193, 2.785) (-5.9575, 2.785) (-5.8142, 2.8468) (-5.7648, 2.9086) knots 0 0 0 1 2 2 2
  point P0 (0, 0)
  point P1 (-6.07, 0)
  point P2 (-6.07, 2.266)
  point P3 (-6.07, 6.84)
  point P4 (-6.07, 6.84)
  point P5 (-6.07, 2.266)
  dimension "d21" = 2.266
  dimension "d22" = 6.84
extrude "Extrusion5" add sketch "Sketch4" along normal blind 0.9
properties part number "IPC TIME 6 key"
